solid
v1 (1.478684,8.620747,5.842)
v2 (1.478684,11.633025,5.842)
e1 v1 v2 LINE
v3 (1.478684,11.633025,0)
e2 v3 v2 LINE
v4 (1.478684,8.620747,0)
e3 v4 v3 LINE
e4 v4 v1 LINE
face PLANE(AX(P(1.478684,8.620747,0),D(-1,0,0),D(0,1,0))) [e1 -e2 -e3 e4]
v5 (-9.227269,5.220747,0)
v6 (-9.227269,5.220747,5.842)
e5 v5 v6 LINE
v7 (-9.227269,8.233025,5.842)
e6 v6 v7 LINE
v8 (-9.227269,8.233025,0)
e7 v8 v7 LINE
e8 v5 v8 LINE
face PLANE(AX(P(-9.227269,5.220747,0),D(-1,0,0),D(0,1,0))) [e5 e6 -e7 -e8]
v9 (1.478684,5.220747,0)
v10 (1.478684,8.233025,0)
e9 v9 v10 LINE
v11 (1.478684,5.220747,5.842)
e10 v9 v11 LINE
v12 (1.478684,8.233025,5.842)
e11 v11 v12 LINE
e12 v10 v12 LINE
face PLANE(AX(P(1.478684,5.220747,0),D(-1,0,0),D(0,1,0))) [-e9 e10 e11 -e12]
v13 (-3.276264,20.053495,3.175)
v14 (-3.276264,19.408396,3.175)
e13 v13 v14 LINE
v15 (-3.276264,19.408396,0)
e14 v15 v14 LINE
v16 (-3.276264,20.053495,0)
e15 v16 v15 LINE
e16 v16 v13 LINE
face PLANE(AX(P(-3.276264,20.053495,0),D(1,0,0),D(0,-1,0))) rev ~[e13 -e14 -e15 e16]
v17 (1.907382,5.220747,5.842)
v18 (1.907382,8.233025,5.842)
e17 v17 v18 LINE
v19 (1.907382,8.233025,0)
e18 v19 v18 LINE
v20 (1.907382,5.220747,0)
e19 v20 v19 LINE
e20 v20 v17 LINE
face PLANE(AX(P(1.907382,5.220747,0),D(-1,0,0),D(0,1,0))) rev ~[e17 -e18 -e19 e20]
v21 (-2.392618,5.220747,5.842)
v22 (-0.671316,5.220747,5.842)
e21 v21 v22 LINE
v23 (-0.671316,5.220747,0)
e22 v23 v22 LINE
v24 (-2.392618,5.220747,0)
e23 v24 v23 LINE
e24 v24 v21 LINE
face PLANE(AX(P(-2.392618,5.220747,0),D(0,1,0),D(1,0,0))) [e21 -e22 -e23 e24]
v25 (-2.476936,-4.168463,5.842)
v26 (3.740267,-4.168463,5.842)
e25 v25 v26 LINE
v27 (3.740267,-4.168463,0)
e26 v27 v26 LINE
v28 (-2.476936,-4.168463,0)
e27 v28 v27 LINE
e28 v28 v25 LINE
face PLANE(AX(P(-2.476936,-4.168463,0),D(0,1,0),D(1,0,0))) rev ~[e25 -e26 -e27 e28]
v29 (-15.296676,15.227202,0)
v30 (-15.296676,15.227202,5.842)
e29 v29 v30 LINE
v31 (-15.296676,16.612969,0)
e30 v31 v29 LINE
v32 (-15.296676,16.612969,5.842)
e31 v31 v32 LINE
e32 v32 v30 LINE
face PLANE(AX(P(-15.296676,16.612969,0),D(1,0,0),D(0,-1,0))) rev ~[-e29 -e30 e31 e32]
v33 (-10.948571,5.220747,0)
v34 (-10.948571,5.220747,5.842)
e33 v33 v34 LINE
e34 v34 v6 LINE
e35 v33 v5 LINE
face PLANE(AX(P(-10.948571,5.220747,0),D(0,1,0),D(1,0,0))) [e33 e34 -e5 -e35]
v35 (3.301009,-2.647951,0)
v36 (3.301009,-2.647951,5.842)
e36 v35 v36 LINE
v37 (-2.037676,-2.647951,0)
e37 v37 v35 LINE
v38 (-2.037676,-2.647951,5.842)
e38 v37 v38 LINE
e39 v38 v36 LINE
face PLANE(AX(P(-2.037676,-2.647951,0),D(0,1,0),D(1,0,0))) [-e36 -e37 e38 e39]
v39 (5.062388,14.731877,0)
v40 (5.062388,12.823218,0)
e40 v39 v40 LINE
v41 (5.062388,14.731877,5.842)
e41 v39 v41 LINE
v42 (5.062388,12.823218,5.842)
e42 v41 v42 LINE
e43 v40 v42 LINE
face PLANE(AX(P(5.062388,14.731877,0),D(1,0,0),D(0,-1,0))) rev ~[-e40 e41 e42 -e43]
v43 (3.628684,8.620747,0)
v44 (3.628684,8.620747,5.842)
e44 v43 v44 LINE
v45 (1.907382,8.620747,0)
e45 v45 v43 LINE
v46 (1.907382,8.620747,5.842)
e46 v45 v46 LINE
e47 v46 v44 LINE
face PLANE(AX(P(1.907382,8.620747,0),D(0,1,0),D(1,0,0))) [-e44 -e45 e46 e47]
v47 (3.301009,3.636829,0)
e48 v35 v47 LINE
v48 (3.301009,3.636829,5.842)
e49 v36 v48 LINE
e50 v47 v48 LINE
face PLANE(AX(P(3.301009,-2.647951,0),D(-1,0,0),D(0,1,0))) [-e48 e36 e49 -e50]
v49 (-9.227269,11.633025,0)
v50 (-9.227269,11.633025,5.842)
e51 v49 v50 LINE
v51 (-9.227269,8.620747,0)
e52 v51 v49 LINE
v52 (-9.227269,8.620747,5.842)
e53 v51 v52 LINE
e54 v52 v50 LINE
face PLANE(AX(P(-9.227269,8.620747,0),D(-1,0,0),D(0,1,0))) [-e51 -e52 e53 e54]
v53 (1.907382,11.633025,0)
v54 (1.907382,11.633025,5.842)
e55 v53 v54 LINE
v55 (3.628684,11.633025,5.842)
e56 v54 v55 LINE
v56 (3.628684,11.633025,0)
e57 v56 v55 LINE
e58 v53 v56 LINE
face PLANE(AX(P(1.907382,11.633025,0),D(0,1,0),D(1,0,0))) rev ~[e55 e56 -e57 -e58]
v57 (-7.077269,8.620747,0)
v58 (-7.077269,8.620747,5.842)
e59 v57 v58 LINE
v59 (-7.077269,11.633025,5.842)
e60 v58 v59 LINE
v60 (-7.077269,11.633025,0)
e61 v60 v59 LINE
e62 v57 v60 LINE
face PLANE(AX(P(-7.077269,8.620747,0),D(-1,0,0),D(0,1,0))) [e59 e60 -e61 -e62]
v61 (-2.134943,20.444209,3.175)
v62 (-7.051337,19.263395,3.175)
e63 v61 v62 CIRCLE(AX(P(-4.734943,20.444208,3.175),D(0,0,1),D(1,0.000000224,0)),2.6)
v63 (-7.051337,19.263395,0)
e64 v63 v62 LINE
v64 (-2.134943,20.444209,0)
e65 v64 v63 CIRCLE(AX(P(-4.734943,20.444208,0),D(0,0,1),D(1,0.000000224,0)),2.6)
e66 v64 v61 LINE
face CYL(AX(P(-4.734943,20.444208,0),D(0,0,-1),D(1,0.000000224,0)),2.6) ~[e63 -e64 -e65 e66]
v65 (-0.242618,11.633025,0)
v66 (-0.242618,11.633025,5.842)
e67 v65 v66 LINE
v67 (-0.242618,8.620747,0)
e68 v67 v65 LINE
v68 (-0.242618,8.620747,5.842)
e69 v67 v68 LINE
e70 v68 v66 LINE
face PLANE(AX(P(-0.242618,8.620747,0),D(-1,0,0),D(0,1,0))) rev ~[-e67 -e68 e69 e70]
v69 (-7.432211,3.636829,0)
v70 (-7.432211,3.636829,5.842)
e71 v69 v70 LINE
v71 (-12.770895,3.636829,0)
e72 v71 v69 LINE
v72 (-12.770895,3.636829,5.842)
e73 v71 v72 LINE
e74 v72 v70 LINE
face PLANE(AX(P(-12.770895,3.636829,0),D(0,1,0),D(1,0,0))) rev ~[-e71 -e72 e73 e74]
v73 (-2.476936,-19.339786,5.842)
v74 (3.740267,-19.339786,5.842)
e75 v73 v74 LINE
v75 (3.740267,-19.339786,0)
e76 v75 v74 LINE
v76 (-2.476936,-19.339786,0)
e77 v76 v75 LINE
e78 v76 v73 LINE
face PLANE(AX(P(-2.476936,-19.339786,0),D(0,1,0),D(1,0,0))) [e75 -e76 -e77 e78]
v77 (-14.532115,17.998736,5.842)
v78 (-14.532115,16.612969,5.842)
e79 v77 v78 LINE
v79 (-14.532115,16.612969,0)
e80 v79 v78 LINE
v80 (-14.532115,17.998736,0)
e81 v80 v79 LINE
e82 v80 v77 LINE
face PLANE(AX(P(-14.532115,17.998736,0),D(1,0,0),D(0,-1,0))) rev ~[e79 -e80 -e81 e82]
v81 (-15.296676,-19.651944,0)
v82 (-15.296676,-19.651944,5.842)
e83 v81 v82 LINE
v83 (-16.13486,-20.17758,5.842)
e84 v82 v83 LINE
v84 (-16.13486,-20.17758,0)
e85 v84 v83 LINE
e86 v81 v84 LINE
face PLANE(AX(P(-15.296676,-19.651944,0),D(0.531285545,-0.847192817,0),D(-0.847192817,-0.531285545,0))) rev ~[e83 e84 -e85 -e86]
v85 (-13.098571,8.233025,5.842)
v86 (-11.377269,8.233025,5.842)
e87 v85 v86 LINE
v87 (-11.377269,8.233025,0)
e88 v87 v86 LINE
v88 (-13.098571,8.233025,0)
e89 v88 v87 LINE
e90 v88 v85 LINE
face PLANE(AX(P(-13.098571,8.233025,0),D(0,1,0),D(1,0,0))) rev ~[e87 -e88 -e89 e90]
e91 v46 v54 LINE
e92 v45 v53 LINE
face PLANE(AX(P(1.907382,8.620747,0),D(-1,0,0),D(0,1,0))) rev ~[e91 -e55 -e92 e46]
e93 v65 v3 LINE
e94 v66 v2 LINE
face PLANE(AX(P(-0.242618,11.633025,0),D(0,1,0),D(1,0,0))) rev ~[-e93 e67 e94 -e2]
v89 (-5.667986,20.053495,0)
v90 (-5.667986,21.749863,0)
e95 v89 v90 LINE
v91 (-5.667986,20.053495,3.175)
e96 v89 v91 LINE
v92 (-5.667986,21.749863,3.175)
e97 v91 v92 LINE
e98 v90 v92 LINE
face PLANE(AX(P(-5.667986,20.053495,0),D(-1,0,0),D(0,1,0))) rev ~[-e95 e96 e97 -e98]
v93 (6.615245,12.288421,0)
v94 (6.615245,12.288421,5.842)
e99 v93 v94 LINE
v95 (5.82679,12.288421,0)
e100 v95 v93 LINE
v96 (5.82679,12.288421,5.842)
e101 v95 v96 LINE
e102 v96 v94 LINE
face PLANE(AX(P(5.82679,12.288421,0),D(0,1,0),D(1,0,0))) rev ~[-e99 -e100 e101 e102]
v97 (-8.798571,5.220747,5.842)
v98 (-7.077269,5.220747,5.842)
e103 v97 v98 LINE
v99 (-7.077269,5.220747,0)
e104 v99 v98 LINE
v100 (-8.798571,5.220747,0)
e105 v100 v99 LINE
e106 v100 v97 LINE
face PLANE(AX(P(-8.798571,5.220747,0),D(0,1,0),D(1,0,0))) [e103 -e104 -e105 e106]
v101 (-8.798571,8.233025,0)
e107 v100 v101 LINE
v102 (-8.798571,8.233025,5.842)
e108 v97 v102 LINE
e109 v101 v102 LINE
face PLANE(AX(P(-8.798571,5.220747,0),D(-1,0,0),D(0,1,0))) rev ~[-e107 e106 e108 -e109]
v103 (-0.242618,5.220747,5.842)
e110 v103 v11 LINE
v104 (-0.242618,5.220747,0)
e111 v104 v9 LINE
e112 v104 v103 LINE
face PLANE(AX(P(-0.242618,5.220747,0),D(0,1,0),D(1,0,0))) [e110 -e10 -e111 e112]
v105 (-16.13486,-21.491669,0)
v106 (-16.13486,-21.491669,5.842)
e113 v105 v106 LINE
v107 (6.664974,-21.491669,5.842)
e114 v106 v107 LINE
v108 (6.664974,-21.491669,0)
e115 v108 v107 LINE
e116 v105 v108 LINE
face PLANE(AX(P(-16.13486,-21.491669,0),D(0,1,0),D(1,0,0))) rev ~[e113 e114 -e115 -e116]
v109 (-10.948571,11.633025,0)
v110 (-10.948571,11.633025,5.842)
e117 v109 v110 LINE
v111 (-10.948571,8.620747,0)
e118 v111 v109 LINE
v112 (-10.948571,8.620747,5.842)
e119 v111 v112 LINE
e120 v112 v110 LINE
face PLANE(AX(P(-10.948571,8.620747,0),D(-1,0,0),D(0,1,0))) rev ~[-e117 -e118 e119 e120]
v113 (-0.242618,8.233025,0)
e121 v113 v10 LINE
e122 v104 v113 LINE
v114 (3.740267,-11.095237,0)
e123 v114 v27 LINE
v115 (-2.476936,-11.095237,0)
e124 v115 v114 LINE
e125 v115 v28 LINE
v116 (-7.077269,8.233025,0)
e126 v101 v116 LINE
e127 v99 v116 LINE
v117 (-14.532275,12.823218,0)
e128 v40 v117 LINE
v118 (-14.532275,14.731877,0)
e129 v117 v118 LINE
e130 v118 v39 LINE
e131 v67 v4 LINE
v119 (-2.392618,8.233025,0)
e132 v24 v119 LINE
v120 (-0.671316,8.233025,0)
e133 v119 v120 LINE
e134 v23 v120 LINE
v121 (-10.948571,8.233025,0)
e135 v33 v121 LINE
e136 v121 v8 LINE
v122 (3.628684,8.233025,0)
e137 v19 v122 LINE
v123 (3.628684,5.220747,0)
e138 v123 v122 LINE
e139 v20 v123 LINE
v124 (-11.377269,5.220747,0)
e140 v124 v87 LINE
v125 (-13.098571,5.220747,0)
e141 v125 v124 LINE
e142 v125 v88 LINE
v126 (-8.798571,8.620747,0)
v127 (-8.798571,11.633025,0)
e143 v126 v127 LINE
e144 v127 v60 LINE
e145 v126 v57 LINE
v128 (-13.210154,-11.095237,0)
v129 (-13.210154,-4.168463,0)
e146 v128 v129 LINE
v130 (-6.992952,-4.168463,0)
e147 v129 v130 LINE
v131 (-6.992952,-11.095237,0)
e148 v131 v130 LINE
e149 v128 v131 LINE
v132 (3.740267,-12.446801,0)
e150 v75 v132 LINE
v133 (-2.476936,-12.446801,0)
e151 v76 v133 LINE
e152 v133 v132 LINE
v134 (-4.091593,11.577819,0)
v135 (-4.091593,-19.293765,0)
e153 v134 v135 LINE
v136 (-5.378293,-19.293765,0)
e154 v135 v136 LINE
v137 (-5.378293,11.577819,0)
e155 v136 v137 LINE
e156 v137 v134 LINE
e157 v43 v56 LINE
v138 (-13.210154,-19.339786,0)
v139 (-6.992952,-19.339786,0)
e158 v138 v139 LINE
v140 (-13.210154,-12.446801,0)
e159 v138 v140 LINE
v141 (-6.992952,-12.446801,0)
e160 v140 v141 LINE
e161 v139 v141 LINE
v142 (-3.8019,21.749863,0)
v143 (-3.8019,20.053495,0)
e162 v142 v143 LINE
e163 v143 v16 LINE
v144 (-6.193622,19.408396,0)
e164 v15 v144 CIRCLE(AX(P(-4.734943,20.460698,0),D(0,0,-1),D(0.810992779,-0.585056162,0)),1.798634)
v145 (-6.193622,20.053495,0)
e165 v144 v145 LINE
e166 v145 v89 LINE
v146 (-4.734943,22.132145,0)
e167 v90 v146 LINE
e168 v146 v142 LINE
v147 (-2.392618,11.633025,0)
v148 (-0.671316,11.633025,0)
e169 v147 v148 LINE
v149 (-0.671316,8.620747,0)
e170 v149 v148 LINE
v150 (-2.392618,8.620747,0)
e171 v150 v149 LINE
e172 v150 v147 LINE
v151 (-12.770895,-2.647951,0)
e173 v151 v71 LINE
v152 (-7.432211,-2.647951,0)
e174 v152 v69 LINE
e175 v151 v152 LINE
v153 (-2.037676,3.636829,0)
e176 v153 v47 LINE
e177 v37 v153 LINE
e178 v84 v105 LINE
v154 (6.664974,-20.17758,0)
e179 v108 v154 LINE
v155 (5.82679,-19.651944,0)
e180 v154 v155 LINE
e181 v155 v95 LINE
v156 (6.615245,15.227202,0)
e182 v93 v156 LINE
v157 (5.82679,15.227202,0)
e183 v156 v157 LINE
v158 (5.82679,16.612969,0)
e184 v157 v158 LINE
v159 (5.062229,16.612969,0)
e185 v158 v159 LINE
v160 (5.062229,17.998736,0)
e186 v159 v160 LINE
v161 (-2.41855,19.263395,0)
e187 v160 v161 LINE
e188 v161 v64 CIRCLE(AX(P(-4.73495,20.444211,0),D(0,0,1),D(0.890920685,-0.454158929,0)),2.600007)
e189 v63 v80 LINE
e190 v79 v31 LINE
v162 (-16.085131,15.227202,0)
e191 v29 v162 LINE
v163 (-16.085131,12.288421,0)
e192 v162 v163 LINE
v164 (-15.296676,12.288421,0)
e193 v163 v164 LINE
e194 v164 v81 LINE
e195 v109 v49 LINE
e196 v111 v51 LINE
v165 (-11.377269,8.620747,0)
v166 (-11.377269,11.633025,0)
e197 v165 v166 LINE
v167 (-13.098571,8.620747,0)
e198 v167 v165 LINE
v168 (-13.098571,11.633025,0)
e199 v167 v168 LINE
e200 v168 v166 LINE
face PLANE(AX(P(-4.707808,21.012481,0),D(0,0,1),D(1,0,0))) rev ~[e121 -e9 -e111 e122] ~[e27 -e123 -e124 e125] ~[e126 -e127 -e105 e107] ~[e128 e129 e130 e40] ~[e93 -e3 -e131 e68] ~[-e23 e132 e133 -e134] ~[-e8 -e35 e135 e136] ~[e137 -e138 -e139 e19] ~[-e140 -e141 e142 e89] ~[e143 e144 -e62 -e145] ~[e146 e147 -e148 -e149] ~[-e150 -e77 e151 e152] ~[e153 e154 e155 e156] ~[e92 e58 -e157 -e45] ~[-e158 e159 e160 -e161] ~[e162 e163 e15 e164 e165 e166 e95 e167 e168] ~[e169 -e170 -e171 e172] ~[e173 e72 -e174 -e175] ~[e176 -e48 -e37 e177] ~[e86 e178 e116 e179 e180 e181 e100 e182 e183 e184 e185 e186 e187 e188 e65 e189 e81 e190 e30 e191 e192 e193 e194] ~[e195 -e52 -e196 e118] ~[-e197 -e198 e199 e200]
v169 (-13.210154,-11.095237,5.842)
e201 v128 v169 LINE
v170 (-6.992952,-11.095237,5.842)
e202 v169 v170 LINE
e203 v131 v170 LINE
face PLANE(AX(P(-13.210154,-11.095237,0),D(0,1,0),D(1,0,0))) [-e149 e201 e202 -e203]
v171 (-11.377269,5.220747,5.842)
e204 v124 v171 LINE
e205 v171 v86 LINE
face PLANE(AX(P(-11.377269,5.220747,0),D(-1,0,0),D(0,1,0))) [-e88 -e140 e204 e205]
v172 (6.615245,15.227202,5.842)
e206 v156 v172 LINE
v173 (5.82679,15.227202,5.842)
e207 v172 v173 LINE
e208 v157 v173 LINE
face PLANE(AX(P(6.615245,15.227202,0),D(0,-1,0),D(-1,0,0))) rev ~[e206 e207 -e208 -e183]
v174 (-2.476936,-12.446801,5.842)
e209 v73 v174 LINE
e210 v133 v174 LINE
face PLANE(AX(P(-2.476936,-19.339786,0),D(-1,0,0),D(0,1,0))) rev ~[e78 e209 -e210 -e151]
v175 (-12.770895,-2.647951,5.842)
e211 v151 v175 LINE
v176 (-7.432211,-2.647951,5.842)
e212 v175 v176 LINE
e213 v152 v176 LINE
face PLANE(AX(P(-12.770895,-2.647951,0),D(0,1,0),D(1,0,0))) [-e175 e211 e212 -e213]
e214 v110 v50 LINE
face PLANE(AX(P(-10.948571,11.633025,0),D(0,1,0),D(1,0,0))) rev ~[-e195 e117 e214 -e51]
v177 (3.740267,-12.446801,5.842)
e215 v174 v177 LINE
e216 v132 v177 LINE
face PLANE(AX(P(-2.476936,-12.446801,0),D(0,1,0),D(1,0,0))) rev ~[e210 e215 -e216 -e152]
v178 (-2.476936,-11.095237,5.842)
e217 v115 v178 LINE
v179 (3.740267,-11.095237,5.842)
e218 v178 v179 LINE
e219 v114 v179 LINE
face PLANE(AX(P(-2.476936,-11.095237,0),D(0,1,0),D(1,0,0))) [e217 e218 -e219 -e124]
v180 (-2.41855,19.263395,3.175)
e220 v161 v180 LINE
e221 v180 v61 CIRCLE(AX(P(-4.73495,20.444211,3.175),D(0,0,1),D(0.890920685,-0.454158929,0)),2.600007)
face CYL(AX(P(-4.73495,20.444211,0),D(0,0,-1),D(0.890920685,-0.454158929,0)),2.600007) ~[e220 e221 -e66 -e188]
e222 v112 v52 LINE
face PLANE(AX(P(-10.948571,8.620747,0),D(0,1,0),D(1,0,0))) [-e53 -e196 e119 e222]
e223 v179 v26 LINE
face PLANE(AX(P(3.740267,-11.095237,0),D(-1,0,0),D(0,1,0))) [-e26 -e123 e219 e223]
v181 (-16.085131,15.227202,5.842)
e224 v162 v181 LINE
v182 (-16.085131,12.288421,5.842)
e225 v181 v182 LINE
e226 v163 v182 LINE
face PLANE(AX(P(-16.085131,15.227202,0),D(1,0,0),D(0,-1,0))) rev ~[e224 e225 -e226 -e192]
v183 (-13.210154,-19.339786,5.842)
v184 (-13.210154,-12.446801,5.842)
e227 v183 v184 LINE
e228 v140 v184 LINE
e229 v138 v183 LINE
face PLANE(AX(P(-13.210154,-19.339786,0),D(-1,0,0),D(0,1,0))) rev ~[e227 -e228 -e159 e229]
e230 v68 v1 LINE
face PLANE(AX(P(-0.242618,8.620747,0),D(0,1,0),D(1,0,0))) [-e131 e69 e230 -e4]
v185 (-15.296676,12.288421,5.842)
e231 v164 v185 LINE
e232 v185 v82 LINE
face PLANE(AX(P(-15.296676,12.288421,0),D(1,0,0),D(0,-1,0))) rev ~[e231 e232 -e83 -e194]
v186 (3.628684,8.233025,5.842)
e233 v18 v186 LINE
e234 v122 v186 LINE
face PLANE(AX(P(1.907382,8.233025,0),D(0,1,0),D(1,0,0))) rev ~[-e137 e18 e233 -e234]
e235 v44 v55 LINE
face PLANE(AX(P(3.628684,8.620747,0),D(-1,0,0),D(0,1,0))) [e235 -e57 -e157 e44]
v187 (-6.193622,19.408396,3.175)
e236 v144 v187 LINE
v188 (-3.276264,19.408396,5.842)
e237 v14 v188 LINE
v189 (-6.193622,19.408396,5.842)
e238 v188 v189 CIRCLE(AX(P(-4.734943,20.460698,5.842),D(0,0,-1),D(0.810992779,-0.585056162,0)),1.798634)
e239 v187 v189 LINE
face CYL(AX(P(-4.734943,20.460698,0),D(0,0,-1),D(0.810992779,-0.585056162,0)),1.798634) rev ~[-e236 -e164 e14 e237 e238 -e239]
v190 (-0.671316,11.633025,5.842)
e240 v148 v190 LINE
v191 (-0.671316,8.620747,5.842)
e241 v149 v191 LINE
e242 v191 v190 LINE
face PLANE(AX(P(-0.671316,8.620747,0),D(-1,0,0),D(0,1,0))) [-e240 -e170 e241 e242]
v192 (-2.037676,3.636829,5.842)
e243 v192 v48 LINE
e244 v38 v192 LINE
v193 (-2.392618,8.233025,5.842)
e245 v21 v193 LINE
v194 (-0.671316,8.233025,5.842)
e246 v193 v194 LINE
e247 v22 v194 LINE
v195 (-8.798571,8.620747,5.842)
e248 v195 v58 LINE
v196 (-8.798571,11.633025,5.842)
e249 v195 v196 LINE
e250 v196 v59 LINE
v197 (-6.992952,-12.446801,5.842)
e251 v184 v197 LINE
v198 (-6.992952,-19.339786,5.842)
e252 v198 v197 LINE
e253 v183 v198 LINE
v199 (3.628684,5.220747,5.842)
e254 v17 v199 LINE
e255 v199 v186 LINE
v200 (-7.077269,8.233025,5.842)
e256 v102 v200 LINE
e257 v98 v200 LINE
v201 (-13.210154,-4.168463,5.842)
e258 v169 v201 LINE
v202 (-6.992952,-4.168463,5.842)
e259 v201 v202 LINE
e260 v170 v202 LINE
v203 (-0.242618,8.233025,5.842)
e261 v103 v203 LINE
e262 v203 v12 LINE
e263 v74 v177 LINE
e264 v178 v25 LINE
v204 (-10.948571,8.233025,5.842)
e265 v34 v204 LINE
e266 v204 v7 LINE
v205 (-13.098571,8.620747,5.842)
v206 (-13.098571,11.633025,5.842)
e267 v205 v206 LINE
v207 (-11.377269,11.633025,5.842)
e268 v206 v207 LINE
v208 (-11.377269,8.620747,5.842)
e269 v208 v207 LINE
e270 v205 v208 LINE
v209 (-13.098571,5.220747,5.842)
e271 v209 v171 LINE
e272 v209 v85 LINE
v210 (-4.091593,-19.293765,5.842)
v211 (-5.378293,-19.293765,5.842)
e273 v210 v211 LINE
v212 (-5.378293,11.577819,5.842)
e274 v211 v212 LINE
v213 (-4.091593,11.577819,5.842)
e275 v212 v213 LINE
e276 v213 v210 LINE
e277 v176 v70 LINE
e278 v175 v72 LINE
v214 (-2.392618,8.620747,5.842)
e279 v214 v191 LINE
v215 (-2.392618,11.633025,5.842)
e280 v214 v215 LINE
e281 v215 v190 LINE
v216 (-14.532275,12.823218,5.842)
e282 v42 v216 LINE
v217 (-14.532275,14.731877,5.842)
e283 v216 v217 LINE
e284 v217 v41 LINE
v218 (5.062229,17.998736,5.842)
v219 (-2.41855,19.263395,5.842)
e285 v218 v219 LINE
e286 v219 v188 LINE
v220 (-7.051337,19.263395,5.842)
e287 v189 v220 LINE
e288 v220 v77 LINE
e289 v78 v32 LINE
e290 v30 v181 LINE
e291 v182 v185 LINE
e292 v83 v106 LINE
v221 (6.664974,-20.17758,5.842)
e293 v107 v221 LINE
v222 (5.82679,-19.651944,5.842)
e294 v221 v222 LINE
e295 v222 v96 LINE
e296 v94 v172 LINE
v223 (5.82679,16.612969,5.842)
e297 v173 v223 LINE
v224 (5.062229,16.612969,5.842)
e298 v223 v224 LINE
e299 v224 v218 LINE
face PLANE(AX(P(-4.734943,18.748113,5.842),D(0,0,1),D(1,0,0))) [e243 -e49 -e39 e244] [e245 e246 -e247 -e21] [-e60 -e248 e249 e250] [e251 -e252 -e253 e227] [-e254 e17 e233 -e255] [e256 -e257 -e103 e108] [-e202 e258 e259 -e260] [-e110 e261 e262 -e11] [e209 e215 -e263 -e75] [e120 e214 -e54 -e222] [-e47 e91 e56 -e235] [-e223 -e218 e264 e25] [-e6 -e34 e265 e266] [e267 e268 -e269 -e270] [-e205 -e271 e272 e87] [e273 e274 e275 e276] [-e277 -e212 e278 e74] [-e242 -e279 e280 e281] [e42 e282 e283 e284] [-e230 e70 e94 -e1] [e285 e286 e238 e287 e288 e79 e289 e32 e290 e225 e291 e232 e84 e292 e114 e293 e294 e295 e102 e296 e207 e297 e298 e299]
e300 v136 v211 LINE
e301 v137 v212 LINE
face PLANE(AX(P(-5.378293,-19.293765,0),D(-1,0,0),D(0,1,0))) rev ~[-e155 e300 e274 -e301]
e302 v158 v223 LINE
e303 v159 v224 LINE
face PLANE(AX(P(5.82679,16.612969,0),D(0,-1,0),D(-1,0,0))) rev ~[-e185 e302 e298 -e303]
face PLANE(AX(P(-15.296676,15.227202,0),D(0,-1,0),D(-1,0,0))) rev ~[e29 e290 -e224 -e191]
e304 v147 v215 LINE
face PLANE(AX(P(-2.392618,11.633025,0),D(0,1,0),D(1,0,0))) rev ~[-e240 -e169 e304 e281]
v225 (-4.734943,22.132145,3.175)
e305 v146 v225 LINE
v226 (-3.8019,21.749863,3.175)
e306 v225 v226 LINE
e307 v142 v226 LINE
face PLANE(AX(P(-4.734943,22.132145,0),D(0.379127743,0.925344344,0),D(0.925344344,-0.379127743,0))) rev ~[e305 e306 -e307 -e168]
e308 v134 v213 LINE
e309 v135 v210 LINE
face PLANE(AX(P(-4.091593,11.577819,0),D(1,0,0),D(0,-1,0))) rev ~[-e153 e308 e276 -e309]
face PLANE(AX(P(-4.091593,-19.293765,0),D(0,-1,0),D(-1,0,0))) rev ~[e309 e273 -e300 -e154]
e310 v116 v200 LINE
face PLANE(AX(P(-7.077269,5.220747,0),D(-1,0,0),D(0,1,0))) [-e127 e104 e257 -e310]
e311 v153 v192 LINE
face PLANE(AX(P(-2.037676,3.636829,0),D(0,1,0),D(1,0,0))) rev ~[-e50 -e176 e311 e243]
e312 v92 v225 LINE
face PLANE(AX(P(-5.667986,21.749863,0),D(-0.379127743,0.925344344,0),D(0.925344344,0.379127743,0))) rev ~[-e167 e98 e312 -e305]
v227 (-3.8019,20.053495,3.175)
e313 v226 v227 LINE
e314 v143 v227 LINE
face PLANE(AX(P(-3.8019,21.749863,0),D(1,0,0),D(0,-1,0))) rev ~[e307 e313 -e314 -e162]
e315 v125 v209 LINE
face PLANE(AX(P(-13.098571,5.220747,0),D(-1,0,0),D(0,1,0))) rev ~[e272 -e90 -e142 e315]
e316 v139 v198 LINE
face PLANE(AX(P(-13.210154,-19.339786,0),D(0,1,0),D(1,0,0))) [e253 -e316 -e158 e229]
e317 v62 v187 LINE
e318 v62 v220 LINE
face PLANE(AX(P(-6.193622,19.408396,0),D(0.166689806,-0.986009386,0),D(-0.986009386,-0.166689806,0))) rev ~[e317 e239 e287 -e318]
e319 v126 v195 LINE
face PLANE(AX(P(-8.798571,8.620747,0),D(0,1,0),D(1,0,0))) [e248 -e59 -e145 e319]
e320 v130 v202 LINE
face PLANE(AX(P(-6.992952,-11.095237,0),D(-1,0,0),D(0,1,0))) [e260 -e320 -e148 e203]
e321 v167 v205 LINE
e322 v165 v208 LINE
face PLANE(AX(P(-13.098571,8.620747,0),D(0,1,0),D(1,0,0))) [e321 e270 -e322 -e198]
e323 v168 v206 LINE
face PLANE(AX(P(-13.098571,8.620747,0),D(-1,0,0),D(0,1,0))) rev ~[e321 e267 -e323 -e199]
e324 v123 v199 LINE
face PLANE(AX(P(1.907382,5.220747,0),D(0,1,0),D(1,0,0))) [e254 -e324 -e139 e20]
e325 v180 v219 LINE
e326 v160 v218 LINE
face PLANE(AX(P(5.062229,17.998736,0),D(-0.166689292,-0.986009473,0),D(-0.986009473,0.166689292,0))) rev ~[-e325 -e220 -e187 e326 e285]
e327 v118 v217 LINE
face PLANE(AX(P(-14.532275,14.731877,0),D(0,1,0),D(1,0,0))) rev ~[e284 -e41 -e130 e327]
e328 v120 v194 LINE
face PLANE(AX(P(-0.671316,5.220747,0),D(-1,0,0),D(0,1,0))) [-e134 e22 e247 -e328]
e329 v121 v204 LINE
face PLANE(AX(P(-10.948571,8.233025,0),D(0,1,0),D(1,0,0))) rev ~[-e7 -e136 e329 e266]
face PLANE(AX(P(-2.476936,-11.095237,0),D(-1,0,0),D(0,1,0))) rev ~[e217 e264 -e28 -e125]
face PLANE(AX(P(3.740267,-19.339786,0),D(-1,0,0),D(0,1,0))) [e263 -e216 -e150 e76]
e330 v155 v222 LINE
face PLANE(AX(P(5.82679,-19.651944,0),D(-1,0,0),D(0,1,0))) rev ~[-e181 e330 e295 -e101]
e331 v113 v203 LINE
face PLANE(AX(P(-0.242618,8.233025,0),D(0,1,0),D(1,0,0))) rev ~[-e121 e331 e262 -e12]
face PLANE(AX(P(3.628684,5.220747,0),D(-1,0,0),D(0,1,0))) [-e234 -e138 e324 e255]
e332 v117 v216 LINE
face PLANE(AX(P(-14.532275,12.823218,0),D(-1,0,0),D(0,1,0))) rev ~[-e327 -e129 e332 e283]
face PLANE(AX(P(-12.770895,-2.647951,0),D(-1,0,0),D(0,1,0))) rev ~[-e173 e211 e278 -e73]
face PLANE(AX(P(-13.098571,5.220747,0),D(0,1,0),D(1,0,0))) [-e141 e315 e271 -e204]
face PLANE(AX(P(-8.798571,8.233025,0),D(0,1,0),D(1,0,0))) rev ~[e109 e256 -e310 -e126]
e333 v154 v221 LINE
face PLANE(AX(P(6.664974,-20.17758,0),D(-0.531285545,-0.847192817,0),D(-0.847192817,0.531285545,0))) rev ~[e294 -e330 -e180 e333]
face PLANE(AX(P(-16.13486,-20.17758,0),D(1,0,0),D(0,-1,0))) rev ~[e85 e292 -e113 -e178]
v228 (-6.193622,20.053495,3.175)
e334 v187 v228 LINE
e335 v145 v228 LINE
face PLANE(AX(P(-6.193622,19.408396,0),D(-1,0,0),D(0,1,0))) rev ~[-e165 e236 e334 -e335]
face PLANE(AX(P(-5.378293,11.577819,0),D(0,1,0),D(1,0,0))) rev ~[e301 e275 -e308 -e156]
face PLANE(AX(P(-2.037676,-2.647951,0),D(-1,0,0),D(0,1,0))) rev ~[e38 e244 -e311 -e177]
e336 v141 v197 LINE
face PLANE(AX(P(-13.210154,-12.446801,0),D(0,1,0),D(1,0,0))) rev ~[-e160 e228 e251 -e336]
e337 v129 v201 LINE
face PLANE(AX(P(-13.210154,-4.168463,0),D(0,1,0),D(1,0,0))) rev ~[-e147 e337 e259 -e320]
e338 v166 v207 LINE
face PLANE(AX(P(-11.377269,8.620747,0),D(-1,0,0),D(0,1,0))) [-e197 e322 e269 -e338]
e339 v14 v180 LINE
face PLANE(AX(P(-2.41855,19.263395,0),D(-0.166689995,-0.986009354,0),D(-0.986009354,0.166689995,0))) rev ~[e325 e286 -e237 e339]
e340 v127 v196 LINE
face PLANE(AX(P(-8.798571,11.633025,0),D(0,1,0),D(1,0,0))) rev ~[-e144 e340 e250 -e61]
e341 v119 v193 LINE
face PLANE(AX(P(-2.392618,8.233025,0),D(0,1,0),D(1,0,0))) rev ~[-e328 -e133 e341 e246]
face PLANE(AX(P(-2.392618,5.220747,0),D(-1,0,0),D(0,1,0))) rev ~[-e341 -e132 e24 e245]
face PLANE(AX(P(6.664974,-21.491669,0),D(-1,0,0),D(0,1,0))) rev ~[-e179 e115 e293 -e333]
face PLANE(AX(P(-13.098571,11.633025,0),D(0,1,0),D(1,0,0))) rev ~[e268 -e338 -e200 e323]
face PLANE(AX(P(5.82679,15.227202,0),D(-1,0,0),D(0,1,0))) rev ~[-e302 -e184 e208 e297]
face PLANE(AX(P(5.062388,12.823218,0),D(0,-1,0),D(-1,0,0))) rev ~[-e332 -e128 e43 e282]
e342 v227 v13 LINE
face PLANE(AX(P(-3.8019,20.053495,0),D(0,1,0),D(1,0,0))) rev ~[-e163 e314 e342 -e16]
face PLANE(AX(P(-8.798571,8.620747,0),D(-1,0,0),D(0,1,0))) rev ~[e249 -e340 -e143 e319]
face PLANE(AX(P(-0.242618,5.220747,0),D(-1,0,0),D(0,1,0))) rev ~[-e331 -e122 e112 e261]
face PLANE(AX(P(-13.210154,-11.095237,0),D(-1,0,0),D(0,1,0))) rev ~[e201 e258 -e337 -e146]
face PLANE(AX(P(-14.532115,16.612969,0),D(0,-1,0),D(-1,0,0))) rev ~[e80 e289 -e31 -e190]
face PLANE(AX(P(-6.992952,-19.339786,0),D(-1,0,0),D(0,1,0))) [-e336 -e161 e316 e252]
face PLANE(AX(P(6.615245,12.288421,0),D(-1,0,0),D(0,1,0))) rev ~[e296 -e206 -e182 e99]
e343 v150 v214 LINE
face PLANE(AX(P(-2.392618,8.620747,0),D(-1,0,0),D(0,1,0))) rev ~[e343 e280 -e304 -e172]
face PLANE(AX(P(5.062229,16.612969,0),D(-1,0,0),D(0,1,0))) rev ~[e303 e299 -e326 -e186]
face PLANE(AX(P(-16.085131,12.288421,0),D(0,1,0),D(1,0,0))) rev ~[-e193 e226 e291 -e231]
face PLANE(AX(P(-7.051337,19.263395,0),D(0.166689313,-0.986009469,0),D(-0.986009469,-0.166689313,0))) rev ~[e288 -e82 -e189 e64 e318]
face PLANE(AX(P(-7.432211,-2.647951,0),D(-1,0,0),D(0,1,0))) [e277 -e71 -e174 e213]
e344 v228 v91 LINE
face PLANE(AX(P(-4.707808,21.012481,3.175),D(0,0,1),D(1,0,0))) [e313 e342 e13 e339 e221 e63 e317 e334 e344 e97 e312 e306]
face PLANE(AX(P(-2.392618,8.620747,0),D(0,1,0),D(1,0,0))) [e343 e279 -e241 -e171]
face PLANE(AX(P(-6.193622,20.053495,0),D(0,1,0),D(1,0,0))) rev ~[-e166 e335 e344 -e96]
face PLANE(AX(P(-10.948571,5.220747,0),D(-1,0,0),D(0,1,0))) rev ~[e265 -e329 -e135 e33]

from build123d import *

# Parameters (mm, degrees)
F0_W     = 6.217202
F0_H     = 6.892985
F0_H_2   = 6.926774
F0_W_2   = 5.338685
F0_H_3   = 6.28478
F0_W_3   = 6.217203
F0_W_4   = 1.721302
F0_H_4   = 3.012278
F0_W_5   = 1.721301
F1_DEPTH = 5.842
F2_DEPTH = 3.175


with BuildPart() as f1:
    # F0 (on Top) → F1 (new body)
    with BuildSketch(Plane.XY):
        with BuildLine():
            ThreePointArc((-3.276264, 19.408396), (-4.734943, 18.662064), (-6.193622, 19.408396))
            Line((-6.193622, 19.408396), (-7.051337, 19.263395))
            ThreePointArc((-7.051337, 19.263395), (-4.734943, 17.844209), (-2.41855, 19.263395))
            Line((-2.41855, 19.263395), (-3.276264, 19.408396))
        make_face()
        with BuildLine():
            ThreePointArc((-2.41855, 19.263395), (-4.734943, 17.844209), (-7.051337, 19.263395))
            Line((-7.051337, 19.263395), (-14.532115, 17.998736))
            Line((-14.532115, 17.998736), (-14.532115, 16.612969))
            Line((-14.532115, 16.612969), (-15.296676, 16.612969))
            Line((-15.296676, 16.612969), (-15.296676, 15.227202))
            Line((-15.296676, 15.227202), (-16.085131, 15.227202))
            Line((-16.085131, 15.227202), (-16.085131, 12.288421))
            Line((-16.085131, 12.288421), (-15.296676, 12.288421))
            Line((-15.296676, 12.288421), (-15.296676, -19.651944))
            Line((-15.296676, -19.651944), (-16.13486, -20.17758))
            Line((-16.13486, -20.17758), (-16.13486, -21.491669))
            Line((-16.13486, -21.491669), (-4.734943, -21.491669))
            Line((-4.734943, -21.491669), (6.664974, -21.491669))
            Line((6.664974, -21.491669), (6.664974, -20.17758))
            Line((6.664974, -20.17758), (5.82679, -19.651944))
            Line((5.82679, -19.651944), (5.82679, 12.288421))
            Line((5.82679, 12.288421), (6.615245, 12.288421))
            Line((6.615245, 12.288421), (6.615245, 15.227202))
            Line((6.615245, 15.227202), (5.82679, 15.227202))
            Line((5.82679, 15.227202), (5.82679, 16.612969))
            Line((5.82679, 16.612969), (5.062229, 16.612969))
            Line((5.062229, 16.612969), (5.062229, 17.998736))
            Line((5.062229, 17.998736), (-2.41855, 19.263395))
        make_face()
        with Locations((-10.101553, -15.893294)):
            Rectangle(F0_W, F0_H, mode=Mode.SUBTRACT)
        with Locations((-10.101553, -7.63185)):
            Rectangle(F0_W, F0_H_2, mode=Mode.SUBTRACT)
        with Locations((-10.101553, 0.494439)):
            Rectangle(F0_W_2, F0_H_3, mode=Mode.SUBTRACT)
        with Locations((0.631666, -15.893294)):
            Rectangle(F0_W_3, F0_H, mode=Mode.SUBTRACT)
        with Locations((0.631666, -7.63185)):
            Rectangle(F0_W_3, F0_H_2, mode=Mode.SUBTRACT)
        Polygon((-5.378293, 11.577819), (-4.734943, 11.577819), (-4.091593, 11.577819), (-4.091593, -19.293765), (-4.734943, -19.293765), (-5.378293, -19.293765), align=None, mode=Mode.SUBTRACT)
        with Locations((0.631666, 0.494439)):
            Rectangle(F0_W_2, F0_H_3, mode=Mode.SUBTRACT)
        with Locations((-12.23792, 6.726886)):
            Rectangle(F0_W_4, F0_H_4, mode=Mode.SUBTRACT)
        with Locations((-12.23792, 10.126886)):
            Rectangle(F0_W_4, F0_H_4, mode=Mode.SUBTRACT)
        with Locations((-10.08792, 6.726886)):
            Rectangle(F0_W_4, F0_H_4, mode=Mode.SUBTRACT)
        with Locations((-7.93792, 6.726886)):
            Rectangle(F0_W_4, F0_H_4, mode=Mode.SUBTRACT)
        with Locations((-10.08792, 10.126886)):
            Rectangle(F0_W_4, F0_H_4, mode=Mode.SUBTRACT)
        with Locations((-7.93792, 10.126886)):
            Rectangle(F0_W_4, F0_H_4, mode=Mode.SUBTRACT)
        with Locations((-1.531967, 6.726886)):
            Rectangle(F0_W_5, F0_H_4, mode=Mode.SUBTRACT)
        with Locations((0.618033, 6.726886)):
            Rectangle(F0_W_5, F0_H_4, mode=Mode.SUBTRACT)
        with Locations((-1.531967, 10.126886)):
            Rectangle(F0_W_5, F0_H_4, mode=Mode.SUBTRACT)
        with Locations((0.618033, 10.126886)):
            Rectangle(F0_W_5, F0_H_4, mode=Mode.SUBTRACT)
        with Locations((2.768033, 6.726886)):
            Rectangle(F0_W_5, F0_H_4, mode=Mode.SUBTRACT)
        with Locations((2.768033, 10.126886)):
            Rectangle(F0_W_5, F0_H_4, mode=Mode.SUBTRACT)
        Polygon((-14.532275, 14.731877), (-4.734943, 14.731877), (5.062388, 14.731877), (5.062388, 12.823218), (-4.734943, 12.823218), (-14.532275, 12.823218), align=None, mode=Mode.SUBTRACT)
    extrude(amount=F1_DEPTH)

    # F0 (on Top) → F2 (join)
    with BuildSketch(Plane.XY):
        with BuildLine():
            Line((-5.667986, 21.749863), (-4.734943, 22.132145))
            Line((-4.734943, 22.132145), (-3.8019, 21.749863))
            Line((-3.8019, 21.749863), (-3.8019, 20.053495))
            Line((-3.8019, 20.053495), (-3.276264, 20.053495))
            Line((-3.276264, 20.053495), (-3.276264, 19.408396))
            Line((-3.276264, 19.408396), (-2.41855, 19.263395))
            ThreePointArc((-2.41855, 19.263395), (-2.206839, 19.837012), (-2.134943, 20.444209))
            ThreePointArc((-2.134943, 20.444209), (-5.34214, 22.972313), (-7.051337, 19.263395))
            Line((-7.051337, 19.263395), (-6.193622, 19.408396))
            Line((-6.193622, 19.408396), (-6.193622, 20.053495))
            Line((-6.193622, 20.053495), (-5.667986, 20.053495))
            Line((-5.667986, 20.053495), (-5.667986, 21.749863))
        make_face()
    extrude(amount=F2_DEPTH)


solid = f1.part
